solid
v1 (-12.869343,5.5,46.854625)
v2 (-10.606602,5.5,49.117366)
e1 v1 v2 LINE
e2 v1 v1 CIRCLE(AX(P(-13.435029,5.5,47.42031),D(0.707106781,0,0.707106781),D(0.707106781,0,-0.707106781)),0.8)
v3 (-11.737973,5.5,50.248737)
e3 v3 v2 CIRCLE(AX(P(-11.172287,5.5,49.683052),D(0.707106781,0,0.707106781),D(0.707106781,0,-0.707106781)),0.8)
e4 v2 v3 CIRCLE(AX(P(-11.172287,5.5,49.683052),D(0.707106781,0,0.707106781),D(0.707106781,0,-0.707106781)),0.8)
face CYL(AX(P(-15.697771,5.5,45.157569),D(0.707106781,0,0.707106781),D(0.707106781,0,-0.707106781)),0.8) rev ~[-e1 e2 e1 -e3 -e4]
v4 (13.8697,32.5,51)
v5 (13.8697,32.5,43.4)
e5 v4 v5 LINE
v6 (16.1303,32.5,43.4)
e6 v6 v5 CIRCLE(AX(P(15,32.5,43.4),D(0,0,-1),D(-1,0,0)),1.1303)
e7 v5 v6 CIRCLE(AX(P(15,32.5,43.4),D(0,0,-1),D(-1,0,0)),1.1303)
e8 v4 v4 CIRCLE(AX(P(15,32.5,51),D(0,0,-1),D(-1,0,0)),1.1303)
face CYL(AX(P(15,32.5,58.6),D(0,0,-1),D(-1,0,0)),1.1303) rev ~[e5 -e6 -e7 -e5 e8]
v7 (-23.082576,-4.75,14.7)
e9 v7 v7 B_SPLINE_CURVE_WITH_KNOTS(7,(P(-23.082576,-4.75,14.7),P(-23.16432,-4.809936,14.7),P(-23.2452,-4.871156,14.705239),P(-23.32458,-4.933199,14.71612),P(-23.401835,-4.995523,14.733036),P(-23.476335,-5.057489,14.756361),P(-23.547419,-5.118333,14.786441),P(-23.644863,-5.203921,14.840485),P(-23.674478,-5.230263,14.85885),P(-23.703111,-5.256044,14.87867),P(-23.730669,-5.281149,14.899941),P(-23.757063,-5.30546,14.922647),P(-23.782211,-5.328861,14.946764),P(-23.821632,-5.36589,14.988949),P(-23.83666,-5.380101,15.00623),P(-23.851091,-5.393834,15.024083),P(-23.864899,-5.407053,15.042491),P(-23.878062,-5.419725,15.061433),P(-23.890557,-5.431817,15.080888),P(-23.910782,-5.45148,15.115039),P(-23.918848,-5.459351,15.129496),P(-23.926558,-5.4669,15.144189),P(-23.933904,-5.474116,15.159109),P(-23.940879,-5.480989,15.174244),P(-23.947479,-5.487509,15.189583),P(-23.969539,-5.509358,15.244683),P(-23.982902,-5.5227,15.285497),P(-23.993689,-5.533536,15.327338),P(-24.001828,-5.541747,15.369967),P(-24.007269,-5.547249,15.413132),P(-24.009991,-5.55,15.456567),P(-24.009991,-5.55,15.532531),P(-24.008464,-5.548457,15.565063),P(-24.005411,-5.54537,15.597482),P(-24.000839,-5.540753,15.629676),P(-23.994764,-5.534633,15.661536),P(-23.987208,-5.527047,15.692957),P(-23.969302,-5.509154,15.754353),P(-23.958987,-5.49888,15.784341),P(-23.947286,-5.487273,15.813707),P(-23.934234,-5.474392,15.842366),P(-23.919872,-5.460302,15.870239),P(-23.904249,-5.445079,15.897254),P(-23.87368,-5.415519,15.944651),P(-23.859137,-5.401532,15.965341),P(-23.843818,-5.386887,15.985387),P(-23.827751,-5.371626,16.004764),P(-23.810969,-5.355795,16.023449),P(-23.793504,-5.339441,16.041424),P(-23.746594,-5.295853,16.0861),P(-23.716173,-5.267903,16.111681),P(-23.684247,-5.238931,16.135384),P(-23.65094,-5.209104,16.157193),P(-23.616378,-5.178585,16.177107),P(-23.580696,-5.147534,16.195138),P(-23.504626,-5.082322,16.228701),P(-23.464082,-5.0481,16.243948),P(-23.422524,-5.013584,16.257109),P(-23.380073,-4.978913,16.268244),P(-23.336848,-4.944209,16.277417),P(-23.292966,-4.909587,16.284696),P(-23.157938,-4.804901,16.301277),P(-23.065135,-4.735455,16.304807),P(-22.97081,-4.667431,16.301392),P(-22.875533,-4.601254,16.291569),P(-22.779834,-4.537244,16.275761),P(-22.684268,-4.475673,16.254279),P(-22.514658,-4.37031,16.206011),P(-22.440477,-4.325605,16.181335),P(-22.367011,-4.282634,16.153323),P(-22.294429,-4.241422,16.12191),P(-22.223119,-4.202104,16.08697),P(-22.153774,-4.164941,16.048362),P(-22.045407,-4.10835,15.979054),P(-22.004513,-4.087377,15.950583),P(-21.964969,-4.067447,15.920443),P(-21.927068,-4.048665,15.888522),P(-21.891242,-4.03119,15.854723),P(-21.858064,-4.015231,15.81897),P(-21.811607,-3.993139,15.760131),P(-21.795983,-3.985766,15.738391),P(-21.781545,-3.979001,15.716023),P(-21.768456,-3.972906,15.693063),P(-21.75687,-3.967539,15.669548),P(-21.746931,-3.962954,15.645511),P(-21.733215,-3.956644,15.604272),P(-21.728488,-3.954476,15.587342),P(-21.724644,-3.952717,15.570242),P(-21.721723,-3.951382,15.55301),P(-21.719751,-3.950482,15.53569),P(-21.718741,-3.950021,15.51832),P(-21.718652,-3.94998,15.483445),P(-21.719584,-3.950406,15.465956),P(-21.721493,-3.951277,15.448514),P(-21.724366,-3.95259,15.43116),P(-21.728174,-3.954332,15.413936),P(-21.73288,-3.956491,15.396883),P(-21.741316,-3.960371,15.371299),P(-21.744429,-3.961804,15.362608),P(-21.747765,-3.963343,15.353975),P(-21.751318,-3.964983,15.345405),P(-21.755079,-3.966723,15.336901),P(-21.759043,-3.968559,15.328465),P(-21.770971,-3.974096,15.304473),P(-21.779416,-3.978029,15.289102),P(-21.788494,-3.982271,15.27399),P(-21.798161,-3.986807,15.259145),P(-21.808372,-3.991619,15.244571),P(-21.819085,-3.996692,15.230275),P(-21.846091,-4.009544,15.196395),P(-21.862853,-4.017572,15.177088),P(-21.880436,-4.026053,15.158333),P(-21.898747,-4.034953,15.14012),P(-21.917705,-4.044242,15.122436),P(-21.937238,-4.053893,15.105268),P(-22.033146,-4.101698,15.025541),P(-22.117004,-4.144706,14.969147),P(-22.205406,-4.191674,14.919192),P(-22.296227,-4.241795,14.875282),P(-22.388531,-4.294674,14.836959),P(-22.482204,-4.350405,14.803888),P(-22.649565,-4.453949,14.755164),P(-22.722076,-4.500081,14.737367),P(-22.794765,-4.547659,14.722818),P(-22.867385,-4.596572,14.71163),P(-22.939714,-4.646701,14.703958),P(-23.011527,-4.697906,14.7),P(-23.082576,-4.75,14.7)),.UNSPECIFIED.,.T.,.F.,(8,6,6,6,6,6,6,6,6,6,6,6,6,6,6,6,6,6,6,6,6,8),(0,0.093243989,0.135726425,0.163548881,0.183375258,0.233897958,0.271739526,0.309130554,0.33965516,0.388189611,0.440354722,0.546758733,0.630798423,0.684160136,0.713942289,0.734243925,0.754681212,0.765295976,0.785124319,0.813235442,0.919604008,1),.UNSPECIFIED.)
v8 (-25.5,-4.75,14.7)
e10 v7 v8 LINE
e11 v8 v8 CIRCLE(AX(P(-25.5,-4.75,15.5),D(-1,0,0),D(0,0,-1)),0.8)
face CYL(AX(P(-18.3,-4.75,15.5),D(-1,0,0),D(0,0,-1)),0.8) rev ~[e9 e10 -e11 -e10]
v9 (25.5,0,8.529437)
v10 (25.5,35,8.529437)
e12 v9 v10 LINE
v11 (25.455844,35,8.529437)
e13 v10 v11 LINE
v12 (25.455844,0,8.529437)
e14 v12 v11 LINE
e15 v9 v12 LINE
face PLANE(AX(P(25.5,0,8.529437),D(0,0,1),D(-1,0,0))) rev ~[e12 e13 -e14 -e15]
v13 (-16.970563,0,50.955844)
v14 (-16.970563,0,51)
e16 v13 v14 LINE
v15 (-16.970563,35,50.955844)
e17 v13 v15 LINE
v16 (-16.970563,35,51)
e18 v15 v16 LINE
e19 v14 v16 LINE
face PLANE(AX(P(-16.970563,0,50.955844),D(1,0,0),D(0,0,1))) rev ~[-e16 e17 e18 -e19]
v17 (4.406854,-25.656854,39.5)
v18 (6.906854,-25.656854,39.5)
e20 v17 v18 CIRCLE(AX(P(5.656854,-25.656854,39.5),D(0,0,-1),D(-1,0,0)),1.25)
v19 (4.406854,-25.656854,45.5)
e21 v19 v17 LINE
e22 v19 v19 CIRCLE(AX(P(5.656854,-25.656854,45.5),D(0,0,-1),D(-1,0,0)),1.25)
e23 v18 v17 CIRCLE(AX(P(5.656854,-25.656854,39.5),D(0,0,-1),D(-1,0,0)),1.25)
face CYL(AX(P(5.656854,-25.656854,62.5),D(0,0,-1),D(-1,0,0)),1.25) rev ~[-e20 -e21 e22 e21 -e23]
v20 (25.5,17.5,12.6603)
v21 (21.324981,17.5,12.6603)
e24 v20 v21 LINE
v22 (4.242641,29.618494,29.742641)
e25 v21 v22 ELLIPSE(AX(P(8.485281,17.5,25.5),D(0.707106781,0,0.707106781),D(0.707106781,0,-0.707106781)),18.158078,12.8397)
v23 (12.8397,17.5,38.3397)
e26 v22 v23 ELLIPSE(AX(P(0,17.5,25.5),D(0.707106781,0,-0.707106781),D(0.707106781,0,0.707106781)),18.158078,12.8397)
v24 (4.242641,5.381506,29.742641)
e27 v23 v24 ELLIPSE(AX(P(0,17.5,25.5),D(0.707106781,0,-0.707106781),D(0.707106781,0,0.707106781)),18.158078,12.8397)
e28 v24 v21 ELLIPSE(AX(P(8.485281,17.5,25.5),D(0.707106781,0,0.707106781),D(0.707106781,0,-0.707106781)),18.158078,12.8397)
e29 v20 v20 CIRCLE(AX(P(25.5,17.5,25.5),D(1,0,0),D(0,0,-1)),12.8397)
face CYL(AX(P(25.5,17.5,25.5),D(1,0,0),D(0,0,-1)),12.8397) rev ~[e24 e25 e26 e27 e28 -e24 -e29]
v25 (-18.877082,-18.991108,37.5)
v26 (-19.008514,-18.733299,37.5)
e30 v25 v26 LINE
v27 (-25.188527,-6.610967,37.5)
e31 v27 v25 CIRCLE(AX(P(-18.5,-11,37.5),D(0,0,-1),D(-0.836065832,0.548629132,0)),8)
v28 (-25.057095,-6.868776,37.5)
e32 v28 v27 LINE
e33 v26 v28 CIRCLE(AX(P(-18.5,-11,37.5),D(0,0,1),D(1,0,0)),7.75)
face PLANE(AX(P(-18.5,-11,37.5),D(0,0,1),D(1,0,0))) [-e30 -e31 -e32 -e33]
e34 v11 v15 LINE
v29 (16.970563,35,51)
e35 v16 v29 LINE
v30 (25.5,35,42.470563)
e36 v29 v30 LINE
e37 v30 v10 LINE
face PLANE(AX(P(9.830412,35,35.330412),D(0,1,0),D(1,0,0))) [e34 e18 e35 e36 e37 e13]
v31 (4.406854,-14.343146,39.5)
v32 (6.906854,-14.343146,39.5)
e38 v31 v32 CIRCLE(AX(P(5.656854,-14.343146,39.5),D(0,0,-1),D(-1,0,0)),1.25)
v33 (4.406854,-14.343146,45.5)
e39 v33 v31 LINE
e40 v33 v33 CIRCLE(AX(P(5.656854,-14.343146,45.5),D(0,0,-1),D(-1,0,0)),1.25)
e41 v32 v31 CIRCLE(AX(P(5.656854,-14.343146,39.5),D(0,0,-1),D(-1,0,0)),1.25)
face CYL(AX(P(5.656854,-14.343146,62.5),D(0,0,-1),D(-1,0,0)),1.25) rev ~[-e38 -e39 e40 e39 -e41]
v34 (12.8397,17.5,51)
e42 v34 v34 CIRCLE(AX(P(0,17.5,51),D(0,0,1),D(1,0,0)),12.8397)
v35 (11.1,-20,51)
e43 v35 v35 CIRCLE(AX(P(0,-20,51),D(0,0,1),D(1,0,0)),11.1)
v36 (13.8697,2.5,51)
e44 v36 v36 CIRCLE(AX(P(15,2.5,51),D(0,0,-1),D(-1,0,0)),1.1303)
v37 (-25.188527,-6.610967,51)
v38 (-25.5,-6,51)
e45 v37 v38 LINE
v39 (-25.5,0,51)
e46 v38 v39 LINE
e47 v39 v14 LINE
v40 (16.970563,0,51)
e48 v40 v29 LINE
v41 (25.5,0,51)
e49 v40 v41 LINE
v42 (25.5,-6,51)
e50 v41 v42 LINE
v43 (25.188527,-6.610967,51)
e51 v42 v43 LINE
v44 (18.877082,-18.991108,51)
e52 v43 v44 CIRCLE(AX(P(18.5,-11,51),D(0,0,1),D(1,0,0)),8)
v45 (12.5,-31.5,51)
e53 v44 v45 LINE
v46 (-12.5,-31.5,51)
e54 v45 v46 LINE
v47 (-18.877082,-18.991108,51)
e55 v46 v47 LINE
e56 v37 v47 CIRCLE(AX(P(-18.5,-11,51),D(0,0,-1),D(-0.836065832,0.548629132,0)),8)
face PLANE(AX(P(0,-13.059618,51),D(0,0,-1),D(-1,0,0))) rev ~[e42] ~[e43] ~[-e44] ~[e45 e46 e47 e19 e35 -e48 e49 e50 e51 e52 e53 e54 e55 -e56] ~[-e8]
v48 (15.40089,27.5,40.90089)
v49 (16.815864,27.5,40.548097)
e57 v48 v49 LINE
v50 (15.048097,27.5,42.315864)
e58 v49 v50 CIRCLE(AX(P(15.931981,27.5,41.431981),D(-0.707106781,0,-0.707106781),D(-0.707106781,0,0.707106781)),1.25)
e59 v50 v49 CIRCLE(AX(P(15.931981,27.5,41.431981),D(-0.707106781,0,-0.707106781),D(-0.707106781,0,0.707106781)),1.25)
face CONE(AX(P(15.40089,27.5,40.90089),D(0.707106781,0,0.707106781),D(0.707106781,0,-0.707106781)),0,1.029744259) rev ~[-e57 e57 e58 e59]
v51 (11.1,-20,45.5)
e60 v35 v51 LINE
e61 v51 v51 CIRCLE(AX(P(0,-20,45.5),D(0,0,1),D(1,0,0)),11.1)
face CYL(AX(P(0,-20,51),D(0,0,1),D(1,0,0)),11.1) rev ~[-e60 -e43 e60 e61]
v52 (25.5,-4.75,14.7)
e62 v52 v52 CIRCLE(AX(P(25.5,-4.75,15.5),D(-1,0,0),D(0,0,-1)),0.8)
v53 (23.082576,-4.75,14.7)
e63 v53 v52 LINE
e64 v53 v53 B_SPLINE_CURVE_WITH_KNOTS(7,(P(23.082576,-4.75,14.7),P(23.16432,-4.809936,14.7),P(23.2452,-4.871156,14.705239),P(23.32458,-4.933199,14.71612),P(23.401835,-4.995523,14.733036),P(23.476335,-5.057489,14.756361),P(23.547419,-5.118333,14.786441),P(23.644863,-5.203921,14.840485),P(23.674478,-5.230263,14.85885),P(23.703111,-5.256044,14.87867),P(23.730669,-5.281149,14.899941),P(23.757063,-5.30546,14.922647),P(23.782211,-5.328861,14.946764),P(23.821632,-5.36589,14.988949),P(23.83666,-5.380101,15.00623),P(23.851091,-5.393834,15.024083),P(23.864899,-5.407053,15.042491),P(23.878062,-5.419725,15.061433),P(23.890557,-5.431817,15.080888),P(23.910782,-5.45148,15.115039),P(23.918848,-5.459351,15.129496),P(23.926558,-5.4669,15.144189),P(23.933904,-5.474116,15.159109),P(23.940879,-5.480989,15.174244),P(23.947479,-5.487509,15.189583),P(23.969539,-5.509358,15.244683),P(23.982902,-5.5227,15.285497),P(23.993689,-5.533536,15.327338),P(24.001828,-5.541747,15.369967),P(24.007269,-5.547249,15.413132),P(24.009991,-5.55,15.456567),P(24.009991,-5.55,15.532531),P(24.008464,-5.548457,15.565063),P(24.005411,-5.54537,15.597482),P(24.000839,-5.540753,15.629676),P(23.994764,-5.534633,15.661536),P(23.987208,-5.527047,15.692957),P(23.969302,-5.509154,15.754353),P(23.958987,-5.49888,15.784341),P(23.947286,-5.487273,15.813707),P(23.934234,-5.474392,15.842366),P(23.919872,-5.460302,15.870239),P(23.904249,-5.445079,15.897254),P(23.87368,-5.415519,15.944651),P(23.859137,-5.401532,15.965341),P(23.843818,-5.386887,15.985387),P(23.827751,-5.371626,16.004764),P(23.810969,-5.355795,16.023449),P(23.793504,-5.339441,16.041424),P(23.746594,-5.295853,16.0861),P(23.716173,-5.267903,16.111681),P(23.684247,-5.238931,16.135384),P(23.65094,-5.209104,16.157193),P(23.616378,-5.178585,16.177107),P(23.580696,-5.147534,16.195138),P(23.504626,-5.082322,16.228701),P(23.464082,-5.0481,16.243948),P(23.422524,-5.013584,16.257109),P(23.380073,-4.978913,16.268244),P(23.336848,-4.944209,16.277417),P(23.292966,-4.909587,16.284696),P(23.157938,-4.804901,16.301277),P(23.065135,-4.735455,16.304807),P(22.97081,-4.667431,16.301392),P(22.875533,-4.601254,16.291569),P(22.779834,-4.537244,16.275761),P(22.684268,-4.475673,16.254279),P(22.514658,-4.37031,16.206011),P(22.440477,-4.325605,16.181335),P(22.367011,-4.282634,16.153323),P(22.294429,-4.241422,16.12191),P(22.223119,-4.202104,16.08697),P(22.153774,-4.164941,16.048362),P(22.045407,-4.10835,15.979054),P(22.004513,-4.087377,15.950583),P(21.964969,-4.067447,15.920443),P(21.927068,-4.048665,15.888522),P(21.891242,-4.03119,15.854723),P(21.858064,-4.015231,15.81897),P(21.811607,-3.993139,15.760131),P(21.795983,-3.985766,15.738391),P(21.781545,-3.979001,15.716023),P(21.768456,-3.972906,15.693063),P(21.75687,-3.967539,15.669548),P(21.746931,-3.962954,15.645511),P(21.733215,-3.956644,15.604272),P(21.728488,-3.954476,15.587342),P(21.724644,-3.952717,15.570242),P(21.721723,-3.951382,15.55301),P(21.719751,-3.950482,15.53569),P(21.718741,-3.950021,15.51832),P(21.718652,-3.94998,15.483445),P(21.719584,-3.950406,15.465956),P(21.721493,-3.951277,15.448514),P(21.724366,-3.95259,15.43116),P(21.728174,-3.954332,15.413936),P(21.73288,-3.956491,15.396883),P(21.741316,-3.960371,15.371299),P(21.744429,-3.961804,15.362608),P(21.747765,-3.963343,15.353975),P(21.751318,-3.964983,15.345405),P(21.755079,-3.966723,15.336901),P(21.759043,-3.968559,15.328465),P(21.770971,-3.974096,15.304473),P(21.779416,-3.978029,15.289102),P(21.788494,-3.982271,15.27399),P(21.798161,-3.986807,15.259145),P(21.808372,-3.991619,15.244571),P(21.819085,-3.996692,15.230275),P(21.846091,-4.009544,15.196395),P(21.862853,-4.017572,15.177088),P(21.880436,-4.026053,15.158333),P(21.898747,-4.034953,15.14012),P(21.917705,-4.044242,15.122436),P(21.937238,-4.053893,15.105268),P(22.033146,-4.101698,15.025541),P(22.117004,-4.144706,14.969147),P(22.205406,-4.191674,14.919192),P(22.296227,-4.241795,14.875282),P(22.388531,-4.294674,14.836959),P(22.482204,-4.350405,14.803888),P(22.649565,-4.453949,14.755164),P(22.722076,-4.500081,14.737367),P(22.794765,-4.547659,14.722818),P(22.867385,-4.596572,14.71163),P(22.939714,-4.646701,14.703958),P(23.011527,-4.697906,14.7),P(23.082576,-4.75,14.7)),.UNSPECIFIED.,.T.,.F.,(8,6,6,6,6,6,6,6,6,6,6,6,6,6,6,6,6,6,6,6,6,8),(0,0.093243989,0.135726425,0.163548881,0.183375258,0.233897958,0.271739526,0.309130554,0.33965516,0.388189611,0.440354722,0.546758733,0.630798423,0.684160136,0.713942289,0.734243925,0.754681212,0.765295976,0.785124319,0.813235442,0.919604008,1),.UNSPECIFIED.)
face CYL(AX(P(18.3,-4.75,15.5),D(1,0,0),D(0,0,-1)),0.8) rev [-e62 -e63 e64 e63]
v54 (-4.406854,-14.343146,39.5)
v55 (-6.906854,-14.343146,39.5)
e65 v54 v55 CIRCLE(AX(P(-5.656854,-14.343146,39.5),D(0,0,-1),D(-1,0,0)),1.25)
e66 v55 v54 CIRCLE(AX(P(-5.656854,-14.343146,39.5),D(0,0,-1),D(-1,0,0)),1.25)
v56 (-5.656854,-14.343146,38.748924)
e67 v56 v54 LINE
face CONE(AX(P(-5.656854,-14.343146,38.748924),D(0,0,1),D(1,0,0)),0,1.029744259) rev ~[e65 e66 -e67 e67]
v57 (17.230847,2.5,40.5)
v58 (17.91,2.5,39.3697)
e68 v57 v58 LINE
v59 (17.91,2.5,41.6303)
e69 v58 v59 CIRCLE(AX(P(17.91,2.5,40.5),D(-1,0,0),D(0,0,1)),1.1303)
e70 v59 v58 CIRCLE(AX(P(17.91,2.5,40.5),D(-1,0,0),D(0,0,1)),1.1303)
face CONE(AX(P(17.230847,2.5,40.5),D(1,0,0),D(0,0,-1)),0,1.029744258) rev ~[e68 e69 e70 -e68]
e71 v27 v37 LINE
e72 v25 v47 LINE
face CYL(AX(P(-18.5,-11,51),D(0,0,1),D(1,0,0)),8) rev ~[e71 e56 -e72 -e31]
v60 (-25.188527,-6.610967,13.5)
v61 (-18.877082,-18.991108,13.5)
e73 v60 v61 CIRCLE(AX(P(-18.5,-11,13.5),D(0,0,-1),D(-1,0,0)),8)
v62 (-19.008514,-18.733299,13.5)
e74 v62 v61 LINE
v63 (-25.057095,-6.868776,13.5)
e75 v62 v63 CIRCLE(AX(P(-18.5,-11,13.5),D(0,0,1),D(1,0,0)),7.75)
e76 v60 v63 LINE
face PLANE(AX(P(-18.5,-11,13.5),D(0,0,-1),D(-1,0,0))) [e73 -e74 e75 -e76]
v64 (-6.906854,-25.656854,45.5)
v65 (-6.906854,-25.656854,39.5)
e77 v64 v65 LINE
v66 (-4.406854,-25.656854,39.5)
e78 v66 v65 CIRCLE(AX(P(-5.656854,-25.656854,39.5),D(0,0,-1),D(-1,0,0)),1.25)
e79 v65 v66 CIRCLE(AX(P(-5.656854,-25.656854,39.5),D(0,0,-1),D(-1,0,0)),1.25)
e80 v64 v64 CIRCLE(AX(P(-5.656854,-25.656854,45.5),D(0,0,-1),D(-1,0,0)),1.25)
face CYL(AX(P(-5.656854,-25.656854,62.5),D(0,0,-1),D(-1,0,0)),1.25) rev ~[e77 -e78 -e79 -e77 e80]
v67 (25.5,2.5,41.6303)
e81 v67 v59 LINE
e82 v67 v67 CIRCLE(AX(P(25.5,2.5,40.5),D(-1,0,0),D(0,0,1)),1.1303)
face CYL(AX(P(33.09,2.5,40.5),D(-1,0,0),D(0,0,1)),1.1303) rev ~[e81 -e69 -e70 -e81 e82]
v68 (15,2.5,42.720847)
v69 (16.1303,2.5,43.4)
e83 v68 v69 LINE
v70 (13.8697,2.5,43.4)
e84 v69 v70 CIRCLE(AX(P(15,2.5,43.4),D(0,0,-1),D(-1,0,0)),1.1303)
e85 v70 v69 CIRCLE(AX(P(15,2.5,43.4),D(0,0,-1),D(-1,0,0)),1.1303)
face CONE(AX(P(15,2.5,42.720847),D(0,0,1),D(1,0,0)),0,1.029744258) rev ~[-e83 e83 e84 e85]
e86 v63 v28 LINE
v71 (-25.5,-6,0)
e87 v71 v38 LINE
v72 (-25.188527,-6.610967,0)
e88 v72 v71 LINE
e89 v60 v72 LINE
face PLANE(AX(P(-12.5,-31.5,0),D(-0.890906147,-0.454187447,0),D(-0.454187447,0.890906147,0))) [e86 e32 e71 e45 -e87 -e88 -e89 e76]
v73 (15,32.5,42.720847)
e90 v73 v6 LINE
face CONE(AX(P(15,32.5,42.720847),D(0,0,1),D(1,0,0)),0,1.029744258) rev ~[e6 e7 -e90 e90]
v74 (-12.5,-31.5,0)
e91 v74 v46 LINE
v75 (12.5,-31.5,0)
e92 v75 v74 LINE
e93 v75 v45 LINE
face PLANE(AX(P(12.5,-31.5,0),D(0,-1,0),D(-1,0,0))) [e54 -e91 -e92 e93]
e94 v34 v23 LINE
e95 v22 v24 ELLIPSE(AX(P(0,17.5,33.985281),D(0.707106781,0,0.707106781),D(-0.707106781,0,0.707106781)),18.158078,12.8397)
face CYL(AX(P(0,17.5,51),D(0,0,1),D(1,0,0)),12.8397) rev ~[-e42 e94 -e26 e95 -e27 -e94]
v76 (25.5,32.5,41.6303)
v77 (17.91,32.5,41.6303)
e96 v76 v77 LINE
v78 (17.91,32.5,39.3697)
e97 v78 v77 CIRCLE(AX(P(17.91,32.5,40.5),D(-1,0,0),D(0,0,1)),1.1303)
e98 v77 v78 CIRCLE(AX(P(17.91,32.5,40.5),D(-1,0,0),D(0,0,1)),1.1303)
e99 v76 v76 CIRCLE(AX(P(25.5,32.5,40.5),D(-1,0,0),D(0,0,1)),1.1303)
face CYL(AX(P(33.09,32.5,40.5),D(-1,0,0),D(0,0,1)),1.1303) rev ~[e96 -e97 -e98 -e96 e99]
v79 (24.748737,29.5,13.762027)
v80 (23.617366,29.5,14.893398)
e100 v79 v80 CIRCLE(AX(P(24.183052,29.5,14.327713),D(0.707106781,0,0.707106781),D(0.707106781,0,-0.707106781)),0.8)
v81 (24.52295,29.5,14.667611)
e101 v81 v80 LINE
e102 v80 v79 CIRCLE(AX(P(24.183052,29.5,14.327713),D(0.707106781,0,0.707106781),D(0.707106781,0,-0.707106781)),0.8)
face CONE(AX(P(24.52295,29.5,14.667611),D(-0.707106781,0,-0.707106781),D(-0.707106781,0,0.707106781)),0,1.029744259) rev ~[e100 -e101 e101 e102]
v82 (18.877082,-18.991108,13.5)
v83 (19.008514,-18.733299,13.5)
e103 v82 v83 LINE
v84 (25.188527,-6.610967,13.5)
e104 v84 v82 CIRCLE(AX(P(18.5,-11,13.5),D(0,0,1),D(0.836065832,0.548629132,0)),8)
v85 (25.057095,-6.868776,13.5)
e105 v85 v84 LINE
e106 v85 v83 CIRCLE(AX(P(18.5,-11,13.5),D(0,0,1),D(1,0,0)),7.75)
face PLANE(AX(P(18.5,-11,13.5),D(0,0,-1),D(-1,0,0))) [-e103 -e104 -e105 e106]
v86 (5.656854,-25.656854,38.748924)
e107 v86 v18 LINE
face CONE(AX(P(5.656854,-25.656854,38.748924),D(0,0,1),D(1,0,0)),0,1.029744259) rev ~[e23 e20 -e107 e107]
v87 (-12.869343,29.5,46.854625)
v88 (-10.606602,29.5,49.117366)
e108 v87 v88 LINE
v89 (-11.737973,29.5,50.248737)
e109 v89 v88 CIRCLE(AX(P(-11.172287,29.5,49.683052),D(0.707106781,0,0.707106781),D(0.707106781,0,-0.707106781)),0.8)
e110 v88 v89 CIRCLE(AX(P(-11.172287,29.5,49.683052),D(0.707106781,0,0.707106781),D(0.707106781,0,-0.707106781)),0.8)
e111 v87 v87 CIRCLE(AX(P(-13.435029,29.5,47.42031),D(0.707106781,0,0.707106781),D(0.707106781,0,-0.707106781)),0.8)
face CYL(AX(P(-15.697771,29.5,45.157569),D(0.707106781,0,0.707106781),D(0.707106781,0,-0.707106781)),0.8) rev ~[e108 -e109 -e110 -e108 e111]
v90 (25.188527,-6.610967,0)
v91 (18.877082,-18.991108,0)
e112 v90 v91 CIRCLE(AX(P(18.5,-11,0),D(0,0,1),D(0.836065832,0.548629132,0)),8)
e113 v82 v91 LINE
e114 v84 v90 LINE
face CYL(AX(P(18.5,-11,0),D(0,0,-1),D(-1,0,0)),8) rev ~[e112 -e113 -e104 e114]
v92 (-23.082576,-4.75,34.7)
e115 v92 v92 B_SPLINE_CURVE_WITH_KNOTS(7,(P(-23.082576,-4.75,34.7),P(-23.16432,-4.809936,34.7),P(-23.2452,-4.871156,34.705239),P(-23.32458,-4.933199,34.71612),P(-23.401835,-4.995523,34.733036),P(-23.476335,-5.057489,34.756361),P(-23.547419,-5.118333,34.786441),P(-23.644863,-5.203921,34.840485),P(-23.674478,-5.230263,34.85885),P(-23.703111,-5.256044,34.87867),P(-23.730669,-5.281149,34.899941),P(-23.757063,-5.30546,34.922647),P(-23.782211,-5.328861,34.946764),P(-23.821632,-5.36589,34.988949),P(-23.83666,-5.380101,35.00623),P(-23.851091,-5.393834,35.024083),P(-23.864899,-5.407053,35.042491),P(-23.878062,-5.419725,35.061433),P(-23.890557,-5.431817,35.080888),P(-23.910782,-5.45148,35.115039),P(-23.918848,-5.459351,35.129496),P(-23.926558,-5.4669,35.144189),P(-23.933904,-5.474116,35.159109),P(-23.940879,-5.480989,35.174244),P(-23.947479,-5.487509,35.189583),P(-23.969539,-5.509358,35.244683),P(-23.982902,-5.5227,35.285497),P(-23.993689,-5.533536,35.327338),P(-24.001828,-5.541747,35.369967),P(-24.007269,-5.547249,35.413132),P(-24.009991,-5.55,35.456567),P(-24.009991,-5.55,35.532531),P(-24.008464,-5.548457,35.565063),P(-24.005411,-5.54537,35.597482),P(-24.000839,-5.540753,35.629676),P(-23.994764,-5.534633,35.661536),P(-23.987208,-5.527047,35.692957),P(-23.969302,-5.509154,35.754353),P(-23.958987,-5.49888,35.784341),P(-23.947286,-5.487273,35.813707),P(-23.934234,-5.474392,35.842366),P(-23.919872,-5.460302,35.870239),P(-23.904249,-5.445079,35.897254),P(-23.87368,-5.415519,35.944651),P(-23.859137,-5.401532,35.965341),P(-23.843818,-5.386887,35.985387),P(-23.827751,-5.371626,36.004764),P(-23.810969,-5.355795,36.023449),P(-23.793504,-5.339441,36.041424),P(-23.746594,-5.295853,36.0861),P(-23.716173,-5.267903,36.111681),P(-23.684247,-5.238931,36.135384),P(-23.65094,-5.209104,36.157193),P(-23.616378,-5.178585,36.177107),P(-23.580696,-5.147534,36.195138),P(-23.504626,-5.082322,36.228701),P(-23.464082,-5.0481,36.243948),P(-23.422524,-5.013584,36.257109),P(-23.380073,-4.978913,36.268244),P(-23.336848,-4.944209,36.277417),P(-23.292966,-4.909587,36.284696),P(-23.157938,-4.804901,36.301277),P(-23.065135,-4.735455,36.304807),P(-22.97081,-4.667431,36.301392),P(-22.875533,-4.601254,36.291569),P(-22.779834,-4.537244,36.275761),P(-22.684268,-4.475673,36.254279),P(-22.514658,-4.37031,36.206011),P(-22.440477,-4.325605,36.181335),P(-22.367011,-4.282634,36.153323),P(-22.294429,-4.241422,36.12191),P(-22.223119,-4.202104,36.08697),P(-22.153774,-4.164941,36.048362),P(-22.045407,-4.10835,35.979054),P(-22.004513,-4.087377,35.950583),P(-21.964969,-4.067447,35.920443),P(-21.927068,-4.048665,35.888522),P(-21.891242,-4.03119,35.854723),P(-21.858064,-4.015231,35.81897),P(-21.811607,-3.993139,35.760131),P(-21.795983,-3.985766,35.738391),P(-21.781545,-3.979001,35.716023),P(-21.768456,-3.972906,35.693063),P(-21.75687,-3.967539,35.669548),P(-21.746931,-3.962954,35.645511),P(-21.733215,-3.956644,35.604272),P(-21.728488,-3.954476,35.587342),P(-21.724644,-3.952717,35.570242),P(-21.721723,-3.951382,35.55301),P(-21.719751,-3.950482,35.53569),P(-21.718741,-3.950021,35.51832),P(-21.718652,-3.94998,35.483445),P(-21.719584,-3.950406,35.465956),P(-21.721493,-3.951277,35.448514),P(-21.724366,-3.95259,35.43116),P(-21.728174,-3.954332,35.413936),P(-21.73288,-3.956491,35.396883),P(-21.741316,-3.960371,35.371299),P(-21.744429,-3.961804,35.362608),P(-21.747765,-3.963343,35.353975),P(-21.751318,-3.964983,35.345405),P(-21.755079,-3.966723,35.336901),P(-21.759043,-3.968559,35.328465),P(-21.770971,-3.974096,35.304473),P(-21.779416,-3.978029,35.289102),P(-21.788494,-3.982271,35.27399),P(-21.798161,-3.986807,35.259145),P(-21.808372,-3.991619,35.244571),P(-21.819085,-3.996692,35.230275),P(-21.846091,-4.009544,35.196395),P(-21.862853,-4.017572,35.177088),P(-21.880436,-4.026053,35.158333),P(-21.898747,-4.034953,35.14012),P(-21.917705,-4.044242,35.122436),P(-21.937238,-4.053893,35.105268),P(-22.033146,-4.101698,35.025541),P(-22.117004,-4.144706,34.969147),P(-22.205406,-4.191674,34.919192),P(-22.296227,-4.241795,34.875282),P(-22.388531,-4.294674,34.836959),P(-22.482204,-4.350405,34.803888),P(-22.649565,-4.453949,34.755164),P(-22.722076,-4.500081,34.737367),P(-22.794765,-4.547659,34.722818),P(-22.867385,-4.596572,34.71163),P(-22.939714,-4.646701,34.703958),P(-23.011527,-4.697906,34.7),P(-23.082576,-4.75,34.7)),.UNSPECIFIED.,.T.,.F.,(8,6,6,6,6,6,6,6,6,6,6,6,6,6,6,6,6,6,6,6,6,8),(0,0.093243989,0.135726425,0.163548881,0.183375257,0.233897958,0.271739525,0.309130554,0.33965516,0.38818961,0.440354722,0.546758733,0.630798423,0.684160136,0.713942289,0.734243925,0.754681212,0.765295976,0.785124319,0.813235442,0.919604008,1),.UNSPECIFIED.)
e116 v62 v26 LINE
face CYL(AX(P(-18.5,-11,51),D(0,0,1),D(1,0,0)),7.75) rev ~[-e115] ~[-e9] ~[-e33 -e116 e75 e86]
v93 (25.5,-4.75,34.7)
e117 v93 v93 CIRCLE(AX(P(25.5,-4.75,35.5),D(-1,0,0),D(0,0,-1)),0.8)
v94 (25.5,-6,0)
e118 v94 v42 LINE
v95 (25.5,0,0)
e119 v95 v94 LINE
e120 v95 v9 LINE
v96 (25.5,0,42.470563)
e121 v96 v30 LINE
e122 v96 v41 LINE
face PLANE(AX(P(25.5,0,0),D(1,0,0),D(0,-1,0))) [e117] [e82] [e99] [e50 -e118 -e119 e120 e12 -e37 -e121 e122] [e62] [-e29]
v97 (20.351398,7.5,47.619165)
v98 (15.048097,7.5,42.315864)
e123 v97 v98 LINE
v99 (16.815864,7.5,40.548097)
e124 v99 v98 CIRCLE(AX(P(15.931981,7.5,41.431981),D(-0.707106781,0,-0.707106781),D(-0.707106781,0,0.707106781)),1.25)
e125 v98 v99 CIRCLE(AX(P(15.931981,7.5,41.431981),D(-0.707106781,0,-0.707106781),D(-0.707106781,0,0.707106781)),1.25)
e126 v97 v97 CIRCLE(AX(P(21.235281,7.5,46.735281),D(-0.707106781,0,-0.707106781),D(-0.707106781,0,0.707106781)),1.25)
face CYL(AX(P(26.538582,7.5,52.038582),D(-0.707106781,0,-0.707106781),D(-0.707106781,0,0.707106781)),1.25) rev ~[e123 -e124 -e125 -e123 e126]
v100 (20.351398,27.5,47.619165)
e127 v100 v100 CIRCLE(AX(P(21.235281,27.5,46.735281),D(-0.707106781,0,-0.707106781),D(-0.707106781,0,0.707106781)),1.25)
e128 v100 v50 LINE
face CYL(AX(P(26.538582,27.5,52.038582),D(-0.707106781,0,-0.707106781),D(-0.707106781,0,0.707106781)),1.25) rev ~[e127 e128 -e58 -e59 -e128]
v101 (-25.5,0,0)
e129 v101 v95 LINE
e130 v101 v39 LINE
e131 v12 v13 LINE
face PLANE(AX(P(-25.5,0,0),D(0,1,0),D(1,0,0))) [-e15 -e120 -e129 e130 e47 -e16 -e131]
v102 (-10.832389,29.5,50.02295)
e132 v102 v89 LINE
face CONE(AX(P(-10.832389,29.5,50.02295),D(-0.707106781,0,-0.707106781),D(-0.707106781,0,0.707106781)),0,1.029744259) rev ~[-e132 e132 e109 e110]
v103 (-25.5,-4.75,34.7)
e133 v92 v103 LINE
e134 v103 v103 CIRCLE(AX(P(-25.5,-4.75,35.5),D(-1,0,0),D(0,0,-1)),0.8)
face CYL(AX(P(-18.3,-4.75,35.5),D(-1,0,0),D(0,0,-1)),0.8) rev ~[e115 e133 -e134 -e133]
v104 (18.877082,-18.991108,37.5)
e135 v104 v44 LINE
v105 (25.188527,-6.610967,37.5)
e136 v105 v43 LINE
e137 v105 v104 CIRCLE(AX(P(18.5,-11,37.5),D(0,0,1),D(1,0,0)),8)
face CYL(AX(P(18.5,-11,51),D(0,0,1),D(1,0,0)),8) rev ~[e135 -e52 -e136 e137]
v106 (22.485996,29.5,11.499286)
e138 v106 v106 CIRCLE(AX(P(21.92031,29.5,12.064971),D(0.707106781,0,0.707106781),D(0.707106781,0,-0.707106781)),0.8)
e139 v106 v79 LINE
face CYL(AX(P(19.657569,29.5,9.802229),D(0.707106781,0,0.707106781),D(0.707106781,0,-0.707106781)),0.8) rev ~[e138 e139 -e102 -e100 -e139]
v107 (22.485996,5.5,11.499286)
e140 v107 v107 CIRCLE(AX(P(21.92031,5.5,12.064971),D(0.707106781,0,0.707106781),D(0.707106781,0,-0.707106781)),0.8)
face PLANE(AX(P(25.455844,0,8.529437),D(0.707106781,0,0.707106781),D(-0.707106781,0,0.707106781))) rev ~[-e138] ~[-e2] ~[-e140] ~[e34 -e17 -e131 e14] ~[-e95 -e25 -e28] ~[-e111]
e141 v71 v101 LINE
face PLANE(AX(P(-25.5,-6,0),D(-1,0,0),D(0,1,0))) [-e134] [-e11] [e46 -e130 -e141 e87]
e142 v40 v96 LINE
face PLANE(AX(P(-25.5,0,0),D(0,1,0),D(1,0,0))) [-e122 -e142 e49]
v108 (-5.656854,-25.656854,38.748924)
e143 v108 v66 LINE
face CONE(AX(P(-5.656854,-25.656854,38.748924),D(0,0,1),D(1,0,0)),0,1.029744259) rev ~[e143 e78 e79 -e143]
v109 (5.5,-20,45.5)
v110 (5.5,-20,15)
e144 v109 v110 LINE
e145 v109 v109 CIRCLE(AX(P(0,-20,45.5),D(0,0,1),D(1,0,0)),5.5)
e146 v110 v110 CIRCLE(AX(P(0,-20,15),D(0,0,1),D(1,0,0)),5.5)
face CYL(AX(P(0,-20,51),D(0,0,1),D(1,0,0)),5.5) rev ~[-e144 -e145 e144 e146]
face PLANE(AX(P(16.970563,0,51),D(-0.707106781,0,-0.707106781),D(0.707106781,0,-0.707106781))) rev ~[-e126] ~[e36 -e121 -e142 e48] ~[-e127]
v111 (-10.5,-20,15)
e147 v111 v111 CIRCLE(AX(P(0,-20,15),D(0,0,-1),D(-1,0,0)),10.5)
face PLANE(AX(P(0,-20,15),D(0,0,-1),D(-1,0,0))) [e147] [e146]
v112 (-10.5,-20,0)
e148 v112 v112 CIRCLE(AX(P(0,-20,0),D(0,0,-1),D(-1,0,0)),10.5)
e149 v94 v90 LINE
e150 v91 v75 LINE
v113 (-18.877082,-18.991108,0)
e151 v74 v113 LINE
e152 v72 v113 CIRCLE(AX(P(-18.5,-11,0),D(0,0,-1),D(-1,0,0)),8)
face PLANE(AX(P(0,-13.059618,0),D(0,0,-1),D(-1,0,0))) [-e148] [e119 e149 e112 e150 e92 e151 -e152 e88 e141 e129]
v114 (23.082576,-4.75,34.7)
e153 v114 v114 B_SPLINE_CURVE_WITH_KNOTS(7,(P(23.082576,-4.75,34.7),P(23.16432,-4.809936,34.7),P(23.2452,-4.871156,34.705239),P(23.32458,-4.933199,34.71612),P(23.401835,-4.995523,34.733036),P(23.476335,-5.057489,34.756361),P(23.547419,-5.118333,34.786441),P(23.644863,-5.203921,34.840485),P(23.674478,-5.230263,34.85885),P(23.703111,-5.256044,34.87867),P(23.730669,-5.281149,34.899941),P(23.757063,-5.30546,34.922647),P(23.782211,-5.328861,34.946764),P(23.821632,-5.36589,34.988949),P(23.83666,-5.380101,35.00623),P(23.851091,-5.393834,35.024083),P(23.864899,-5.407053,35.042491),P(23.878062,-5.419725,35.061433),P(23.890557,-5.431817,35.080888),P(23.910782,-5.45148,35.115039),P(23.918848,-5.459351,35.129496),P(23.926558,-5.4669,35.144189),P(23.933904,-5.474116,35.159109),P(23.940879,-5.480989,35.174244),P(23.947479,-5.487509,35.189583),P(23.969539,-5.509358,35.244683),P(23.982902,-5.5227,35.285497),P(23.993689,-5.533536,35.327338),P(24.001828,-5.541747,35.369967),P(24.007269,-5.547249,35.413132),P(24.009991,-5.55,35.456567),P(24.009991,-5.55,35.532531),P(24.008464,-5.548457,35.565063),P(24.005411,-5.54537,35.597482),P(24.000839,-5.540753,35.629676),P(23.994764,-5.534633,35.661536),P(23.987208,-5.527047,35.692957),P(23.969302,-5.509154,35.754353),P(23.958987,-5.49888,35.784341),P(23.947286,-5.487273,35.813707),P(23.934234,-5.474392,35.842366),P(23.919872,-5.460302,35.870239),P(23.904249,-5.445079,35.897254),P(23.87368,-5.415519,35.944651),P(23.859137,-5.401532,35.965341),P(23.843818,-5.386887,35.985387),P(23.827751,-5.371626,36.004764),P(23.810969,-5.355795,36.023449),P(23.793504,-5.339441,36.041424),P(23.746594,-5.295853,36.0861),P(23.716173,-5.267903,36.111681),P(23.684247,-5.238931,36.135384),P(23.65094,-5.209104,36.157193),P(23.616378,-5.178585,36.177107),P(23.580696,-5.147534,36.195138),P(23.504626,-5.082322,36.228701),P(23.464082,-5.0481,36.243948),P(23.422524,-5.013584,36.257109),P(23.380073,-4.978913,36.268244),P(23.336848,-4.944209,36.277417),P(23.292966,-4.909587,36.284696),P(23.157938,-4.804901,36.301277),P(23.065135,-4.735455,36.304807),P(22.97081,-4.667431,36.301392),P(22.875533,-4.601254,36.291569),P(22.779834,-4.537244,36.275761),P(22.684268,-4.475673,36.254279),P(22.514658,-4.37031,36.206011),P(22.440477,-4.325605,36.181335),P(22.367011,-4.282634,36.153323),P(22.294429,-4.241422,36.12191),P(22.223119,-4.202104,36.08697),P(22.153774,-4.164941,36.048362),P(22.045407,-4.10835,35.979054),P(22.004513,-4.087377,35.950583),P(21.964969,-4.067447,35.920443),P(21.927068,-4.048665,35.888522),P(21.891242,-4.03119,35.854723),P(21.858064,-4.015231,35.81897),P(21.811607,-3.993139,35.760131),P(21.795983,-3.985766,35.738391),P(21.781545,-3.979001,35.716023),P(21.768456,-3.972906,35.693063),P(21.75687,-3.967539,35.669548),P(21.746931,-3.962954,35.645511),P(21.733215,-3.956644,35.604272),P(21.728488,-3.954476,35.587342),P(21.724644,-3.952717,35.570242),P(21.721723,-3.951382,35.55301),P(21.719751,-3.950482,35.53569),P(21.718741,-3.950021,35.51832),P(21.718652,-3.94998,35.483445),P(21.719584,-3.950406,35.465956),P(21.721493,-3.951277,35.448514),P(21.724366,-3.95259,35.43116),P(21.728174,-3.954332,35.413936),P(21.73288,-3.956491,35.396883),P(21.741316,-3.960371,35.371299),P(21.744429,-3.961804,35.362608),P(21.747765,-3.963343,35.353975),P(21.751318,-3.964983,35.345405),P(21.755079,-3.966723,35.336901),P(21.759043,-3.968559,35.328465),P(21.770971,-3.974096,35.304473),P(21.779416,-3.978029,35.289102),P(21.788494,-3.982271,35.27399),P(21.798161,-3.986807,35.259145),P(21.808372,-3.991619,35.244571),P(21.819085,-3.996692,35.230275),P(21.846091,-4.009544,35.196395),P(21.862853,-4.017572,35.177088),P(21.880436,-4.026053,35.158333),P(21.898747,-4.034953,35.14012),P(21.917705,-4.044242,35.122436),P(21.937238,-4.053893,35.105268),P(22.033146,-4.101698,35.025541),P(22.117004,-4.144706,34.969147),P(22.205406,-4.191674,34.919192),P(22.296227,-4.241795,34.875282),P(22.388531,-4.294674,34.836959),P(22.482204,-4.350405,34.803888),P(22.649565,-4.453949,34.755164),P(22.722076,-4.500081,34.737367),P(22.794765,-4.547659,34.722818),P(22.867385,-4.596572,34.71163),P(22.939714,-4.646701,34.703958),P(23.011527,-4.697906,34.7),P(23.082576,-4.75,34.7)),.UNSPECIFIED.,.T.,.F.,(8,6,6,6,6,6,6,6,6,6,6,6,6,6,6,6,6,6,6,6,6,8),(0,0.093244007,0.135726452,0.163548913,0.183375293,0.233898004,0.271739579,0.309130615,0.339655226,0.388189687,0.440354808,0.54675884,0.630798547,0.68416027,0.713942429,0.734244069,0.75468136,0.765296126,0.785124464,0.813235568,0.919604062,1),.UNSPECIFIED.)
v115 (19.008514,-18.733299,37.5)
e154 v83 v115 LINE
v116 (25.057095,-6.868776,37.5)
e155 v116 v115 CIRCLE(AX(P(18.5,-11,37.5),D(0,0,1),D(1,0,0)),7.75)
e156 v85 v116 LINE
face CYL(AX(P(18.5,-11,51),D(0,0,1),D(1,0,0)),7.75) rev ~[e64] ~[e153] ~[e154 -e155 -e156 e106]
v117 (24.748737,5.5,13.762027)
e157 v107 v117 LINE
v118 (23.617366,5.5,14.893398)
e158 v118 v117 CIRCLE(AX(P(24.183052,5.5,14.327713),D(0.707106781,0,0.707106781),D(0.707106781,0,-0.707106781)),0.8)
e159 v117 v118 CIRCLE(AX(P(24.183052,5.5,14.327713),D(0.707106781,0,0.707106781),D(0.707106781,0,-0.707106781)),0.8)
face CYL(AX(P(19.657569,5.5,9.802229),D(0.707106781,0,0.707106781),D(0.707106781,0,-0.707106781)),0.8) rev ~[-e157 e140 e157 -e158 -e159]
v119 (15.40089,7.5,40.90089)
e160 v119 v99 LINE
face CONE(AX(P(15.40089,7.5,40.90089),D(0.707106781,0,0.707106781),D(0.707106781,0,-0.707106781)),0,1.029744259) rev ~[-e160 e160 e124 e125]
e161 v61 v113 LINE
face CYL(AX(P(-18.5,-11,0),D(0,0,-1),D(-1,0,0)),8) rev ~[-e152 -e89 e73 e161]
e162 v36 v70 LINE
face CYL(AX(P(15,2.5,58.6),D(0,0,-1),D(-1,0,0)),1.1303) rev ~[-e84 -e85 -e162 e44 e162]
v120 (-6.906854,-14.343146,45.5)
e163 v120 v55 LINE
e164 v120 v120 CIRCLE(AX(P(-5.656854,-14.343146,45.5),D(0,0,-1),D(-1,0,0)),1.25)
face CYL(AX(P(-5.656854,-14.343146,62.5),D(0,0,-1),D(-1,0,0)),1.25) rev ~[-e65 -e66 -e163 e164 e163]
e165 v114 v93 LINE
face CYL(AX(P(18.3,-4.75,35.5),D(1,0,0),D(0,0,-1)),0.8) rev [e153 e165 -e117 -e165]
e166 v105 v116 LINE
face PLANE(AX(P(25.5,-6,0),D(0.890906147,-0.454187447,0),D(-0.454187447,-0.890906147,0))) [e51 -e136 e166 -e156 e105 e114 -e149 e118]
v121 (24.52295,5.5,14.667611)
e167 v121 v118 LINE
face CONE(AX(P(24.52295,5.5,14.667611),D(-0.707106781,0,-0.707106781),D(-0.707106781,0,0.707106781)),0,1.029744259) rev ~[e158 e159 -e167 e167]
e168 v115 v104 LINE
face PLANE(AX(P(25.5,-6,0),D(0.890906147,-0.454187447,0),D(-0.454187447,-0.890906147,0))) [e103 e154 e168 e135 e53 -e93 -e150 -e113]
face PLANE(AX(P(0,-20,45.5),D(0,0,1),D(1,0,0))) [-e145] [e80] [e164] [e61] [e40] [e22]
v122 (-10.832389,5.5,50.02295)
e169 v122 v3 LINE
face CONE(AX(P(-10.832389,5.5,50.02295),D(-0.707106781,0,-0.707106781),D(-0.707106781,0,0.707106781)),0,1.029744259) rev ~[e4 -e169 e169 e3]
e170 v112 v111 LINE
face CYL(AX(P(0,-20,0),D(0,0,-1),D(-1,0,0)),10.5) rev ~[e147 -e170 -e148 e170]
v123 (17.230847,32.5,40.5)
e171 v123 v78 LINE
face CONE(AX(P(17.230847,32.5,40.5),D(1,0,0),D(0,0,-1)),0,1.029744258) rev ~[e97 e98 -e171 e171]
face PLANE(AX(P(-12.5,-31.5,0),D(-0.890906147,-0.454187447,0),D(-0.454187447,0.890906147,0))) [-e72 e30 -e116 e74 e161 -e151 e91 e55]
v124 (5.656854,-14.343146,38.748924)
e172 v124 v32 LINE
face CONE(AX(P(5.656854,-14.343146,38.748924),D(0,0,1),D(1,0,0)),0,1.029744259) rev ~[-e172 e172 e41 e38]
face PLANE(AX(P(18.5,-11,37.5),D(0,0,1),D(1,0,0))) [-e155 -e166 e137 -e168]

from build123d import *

# Parameters (mm, degrees)
BOSS_EXTRUDE1_DEPTH        = 51
CUT_EXTRUDE1_REACH         = 53
SKETCH2_R                  = 7.75
CUT_EXTRUDE2_REACH         = 53
SKETCH6_R                  = 5.5
M3_TAPPED_HOLE2_D          = 2.5
M3_TAPPED_HOLE2_DEPTH      = 11.5
M3_TAPPED_HOLE2_TIP        = 0.751075774
SKETCH13_R                 = 10.5
CUT_EXTRUDE5_DEPTH         = 15
BOSS_EXTRUDE2_DEPTH        = 35
CUT_EXTRUDE6_REACH         = 53
SKETCH24_R                 = 12.8397
CUT_EXTRUDE7_REACH         = 53
SKETCH25_R                 = 12.8397
M2_TAPPED_HOLE1_D          = 1.6
M2_TAPPED_HOLE1_DEPTH      = 3.2
M2_TAPPED_HOLE1_TIP        = 0.480688495
M3_TAPPED_HOLE4_D          = 2.5
M3_TAPPED_HOLE4_DEPTH      = 7.5
M3_TAPPED_HOLE4_TIP        = 0.751075774
M2_TAPPED_HOLE2_AT_2_COUNT = 2
M2_TAPPED_HOLE2_AT_2_PITCH = 20
SKETCH38_R                 = 11.1
CUT_EXTRUDE8_DEPTH         = 5.5
SKETCH39_R                 = 8
CUT_EXTRUDE9_DEPTH         = 13.5
SKETCH41_R                 = 8
CUT_EXTRUDE10_DEPTH        = 13.5
F_4_40_TAPPED_HOLE1_D      = 2.2606
F_4_40_TAPPED_HOLE1_DEPTH  = 7.59
F_4_40_TAPPED_HOLE1_TIP    = 0.679152758
F_4_40_TAPPED_HOLE2_D      = 2.2606
F_4_40_TAPPED_HOLE2_DEPTH  = 7.6
F_4_40_TAPPED_HOLE2_TIP    = 0.679152758


with BuildPart() as part:
    # Sketch1 → Boss-Extrude1 (new body)
    with BuildSketch(Plane.XY):
        Polygon((-25.5, 0), (25.5, 0), (25.5, -6), (12.5, -31.5), (-12.5, -31.5), (-25.5, -6), align=None)
    extrude(amount=BOSS_EXTRUDE1_DEPTH)

    # Sketch2 → Cut-Extrude1 (cut, up to next)
    with BuildSketch(Plane.XY.offset(51), mode=Mode.PRIVATE) as cut_extrude1_sk1:
        with Locations((-18.5, -11)):
            Circle(SKETCH2_R)
    cut_extrude1_tool1 = extrude(cut_extrude1_sk1.sketch, amount=-CUT_EXTRUDE1_REACH, mode=Mode.PRIVATE) & part.part
    add(cut_extrude1_tool1.solids().sort_by_distance((-18.5, -11, 51))[0], mode=Mode.SUBTRACT)
    # Sketch2 → Cut-Extrude1 (cut, up to next)
    with BuildSketch(Plane.XY.offset(51), mode=Mode.PRIVATE) as cut_extrude1_sk2:
        with Locations((18.5, -11)):
            Circle(SKETCH2_R)
    cut_extrude1_tool2 = extrude(cut_extrude1_sk2.sketch, amount=-CUT_EXTRUDE1_REACH, mode=Mode.PRIVATE) & part.part
    add(cut_extrude1_tool2.solids().sort_by_distance((18.5, -11, 51))[0], mode=Mode.SUBTRACT)

    # Sketch6 → Cut-Extrude2 (cut, up to next)
    with BuildSketch(Plane.XY.offset(51), mode=Mode.PRIVATE) as cut_extrude2_sk1:
        with Locations((0, -20)):
            Circle(SKETCH6_R)
    cut_extrude2_tool1 = extrude(cut_extrude2_sk1.sketch, amount=-CUT_EXTRUDE2_REACH, mode=Mode.PRIVATE) & part.part
    add(cut_extrude2_tool1.solids().sort_by_distance((0, -20, 51))[0], mode=Mode.SUBTRACT)

    # M3 Tapped Hole2
    with Locations(Plane.XY.offset(51)):
        with Locations((-5.656854249, -14.343145751), (5.656854249, -25.656854249), (5.656854249, -14.343145751), (-5.656854249, -25.656854249)):
            Hole(M3_TAPPED_HOLE2_D / 2, depth=M3_TAPPED_HOLE2_DEPTH)
            with Locations((0, 0, -(M3_TAPPED_HOLE2_DEPTH + M3_TAPPED_HOLE2_TIP / 2))):  # 118° drill point
                Cone(0, M3_TAPPED_HOLE2_D / 2, M3_TAPPED_HOLE2_TIP, mode=Mode.SUBTRACT)

    # Sketch13 → Cut-Extrude5 (cut)
    with BuildSketch(Plane(origin=(0, 0, 0), x_dir=(-1, 0, 0), z_dir=(0, 0, -1))):
        with Locations((0, -20)):
            Circle(SKETCH13_R)
    extrude(amount=-CUT_EXTRUDE5_DEPTH, mode=Mode.SUBTRACT)

    # Sketch22 → Boss-Extrude2 (add)
    with BuildSketch(Plane(origin=(0, 0, 0), x_dir=(1, 0, 0), z_dir=(0, 1, 0))):
        Polygon((-16.970562748, -50.955844123), (-16.970562748, -51), (16.970562748, -51), (25.5, -42.470562748), (25.5, -8.529437252), (25.455844123, -8.529437252), align=None)
    extrude(amount=BOSS_EXTRUDE2_DEPTH)

    # Sketch24 → Cut-Extrude6 (cut, up to next)
    with BuildSketch(Plane.XY.offset(51), mode=Mode.PRIVATE) as cut_extrude6_sk1:
        with Locations((0, 17.5)):
            Circle(SKETCH24_R)
    cut_extrude6_tool1 = extrude(cut_extrude6_sk1.sketch, amount=-CUT_EXTRUDE6_REACH, mode=Mode.PRIVATE) & part.part
    add(cut_extrude6_tool1.solids().sort_by_distance((0, 17.5, 51))[0], mode=Mode.SUBTRACT)

    # Sketch25 → Cut-Extrude7 (cut, up to next)
    with BuildSketch(Plane(origin=(25.5, 0, 0), x_dir=(0, 0, -1), z_dir=(1, 0, 0)), mode=Mode.PRIVATE) as cut_extrude7_sk1:
        with Locations((-25.5, 17.5)):
            Circle(SKETCH25_R)
    cut_extrude7_tool1 = extrude(cut_extrude7_sk1.sketch, amount=-CUT_EXTRUDE7_REACH, mode=Mode.PRIVATE) & part.part
    add(cut_extrude7_tool1.solids().sort_by_distance((25.5, 17.5, 25.5))[0], mode=Mode.SUBTRACT)

    # M2 Tapped Hole1
    with Locations(Plane(origin=(16.992640687, 0, 16.992640687), x_dir=(-0.707106781, 0, 0.707106781), z_dir=(-0.707106781, 0, -0.707106781))):
        with Locations((43.03122292, 29.5), (-6.96877708, 5.5), (-6.96877708, 29.5), (43.03122292, 5.5)):
            Hole(M2_TAPPED_HOLE1_D / 2, depth=M2_TAPPED_HOLE1_DEPTH)
            with Locations((0, 0, -(M2_TAPPED_HOLE1_DEPTH + M2_TAPPED_HOLE1_TIP / 2))):  # 118° drill point
                Cone(0, M2_TAPPED_HOLE1_D / 2, M2_TAPPED_HOLE1_TIP, mode=Mode.SUBTRACT)

    # M3 Tapped Hole4
    with Locations(Plane(origin=(33.985281374, 0, 33.985281374), x_dir=(0.707106781, 0, -0.707106781), z_dir=(0.707106781, 0, 0.707106781))):
        with Locations((-18.03122292, 27.5), (-18.03122292, 7.5)):
            Hole(M3_TAPPED_HOLE4_D / 2, depth=M3_TAPPED_HOLE4_DEPTH)
            with Locations((0, 0, -(M3_TAPPED_HOLE4_DEPTH + M3_TAPPED_HOLE4_TIP / 2))):  # 118° drill point
                Cone(0, M3_TAPPED_HOLE4_D / 2, M3_TAPPED_HOLE4_TIP, mode=Mode.SUBTRACT)

    # Sketch36 → M2 Tapped Hole2 (revolve, cut)
    with BuildSketch(Plane(origin=(25.5, -4.75, 35.5), x_dir=(0, 0, -1), z_dir=(0, 1, 0))):
        Polygon((0, 0), (0, 7.680688495), (0.8, 7.2), (0.8, 0), align=None)
    m2_tapped_hole2 = revolve(axis=Axis((31.85, -4.75, 35.5), (-1, 0, 0)), mode=Mode.SUBTRACT)

    # M2 Tapped Hole2 at 2: M2 Tapped Hole2 ×2
    with Locations(*[(0, 0, -i * M2_TAPPED_HOLE2_AT_2_PITCH) for i in range(1, M2_TAPPED_HOLE2_AT_2_COUNT)]):
        add(m2_tapped_hole2, mode=Mode.SUBTRACT)

    # Mirror1: M2 Tapped Hole2 across plane
    add(m2_tapped_hole2.mirror(Plane(origin=(0, 0, 0), x_dir=(0, 0, 1), z_dir=(1, 0, 0))), mode=Mode.SUBTRACT)

    # Mirror1 copy 1 sketch → Mirror1 copy 1 (revolve, cut)
    with BuildSketch(Plane(origin=(-25.5, -4.75, 15.5), x_dir=(0, 0, -1), z_dir=(0, 1, 0))):
        Polygon((0, 0), (0, -7.680688495), (0.8, -7.2), (0.8, 0), align=None)
    revolve(axis=Axis((-31.85, -4.75, 15.5), (-1, 0, 0)), mode=Mode.SUBTRACT)

    # Sketch38 → Cut-Extrude8 (cut)
    with BuildSketch(Plane.XY.offset(51)):
        with Locations((0, -20)):
            Circle(SKETCH38_R)
    extrude(amount=-CUT_EXTRUDE8_DEPTH, mode=Mode.SUBTRACT)

    # Sketch39 → Cut-Extrude9 (cut)
    with BuildSketch(Plane(origin=(0, 0, 0), x_dir=(-1, 0, 0), z_dir=(0, 0, -1))):
        with Locations((18.5, -11)):
            Circle(SKETCH39_R)
        with Locations((-18.5, -11)):
            Circle(SKETCH39_R)
    extrude(amount=-CUT_EXTRUDE9_DEPTH, mode=Mode.SUBTRACT)

    # Sketch41 → Cut-Extrude10 (cut)
    with BuildSketch(Plane.XY.offset(51)):
        with Locations((18.5, -11)):
            Circle(SKETCH41_R)
        with Locations((-18.5, -11)):
            Circle(SKETCH41_R)
    extrude(amount=-CUT_EXTRUDE10_DEPTH, mode=Mode.SUBTRACT)

    # #4-40 Tapped Hole1
    with Locations(Plane(origin=(25.5, 0, 0), x_dir=(0, 0, -1), z_dir=(1, 0, 0))):
        with Locations((-40.5, 32.5), (-40.5, 2.5)):
            Hole(F_4_40_TAPPED_HOLE1_D / 2, depth=F_4_40_TAPPED_HOLE1_DEPTH)
            with Locations((0, 0, -(F_4_40_TAPPED_HOLE1_DEPTH + F_4_40_TAPPED_HOLE1_TIP / 2))):  # 118° drill point
                Cone(0, F_4_40_TAPPED_HOLE1_D / 2, F_4_40_TAPPED_HOLE1_TIP, mode=Mode.SUBTRACT)

    # #4-40 Tapped Hole2
    with Locations(Plane.XY.offset(51)):
        with Locations((15, 32.5), (15, 2.5)):
            Hole(F_4_40_TAPPED_HOLE2_D / 2, depth=F_4_40_TAPPED_HOLE2_DEPTH)
            with Locations((0, 0, -(F_4_40_TAPPED_HOLE2_DEPTH + F_4_40_TAPPED_HOLE2_TIP / 2))):  # 118° drill point
                Cone(0, F_4_40_TAPPED_HOLE2_D / 2, F_4_40_TAPPED_HOLE2_TIP, mode=Mode.SUBTRACT)


solid = part.part
